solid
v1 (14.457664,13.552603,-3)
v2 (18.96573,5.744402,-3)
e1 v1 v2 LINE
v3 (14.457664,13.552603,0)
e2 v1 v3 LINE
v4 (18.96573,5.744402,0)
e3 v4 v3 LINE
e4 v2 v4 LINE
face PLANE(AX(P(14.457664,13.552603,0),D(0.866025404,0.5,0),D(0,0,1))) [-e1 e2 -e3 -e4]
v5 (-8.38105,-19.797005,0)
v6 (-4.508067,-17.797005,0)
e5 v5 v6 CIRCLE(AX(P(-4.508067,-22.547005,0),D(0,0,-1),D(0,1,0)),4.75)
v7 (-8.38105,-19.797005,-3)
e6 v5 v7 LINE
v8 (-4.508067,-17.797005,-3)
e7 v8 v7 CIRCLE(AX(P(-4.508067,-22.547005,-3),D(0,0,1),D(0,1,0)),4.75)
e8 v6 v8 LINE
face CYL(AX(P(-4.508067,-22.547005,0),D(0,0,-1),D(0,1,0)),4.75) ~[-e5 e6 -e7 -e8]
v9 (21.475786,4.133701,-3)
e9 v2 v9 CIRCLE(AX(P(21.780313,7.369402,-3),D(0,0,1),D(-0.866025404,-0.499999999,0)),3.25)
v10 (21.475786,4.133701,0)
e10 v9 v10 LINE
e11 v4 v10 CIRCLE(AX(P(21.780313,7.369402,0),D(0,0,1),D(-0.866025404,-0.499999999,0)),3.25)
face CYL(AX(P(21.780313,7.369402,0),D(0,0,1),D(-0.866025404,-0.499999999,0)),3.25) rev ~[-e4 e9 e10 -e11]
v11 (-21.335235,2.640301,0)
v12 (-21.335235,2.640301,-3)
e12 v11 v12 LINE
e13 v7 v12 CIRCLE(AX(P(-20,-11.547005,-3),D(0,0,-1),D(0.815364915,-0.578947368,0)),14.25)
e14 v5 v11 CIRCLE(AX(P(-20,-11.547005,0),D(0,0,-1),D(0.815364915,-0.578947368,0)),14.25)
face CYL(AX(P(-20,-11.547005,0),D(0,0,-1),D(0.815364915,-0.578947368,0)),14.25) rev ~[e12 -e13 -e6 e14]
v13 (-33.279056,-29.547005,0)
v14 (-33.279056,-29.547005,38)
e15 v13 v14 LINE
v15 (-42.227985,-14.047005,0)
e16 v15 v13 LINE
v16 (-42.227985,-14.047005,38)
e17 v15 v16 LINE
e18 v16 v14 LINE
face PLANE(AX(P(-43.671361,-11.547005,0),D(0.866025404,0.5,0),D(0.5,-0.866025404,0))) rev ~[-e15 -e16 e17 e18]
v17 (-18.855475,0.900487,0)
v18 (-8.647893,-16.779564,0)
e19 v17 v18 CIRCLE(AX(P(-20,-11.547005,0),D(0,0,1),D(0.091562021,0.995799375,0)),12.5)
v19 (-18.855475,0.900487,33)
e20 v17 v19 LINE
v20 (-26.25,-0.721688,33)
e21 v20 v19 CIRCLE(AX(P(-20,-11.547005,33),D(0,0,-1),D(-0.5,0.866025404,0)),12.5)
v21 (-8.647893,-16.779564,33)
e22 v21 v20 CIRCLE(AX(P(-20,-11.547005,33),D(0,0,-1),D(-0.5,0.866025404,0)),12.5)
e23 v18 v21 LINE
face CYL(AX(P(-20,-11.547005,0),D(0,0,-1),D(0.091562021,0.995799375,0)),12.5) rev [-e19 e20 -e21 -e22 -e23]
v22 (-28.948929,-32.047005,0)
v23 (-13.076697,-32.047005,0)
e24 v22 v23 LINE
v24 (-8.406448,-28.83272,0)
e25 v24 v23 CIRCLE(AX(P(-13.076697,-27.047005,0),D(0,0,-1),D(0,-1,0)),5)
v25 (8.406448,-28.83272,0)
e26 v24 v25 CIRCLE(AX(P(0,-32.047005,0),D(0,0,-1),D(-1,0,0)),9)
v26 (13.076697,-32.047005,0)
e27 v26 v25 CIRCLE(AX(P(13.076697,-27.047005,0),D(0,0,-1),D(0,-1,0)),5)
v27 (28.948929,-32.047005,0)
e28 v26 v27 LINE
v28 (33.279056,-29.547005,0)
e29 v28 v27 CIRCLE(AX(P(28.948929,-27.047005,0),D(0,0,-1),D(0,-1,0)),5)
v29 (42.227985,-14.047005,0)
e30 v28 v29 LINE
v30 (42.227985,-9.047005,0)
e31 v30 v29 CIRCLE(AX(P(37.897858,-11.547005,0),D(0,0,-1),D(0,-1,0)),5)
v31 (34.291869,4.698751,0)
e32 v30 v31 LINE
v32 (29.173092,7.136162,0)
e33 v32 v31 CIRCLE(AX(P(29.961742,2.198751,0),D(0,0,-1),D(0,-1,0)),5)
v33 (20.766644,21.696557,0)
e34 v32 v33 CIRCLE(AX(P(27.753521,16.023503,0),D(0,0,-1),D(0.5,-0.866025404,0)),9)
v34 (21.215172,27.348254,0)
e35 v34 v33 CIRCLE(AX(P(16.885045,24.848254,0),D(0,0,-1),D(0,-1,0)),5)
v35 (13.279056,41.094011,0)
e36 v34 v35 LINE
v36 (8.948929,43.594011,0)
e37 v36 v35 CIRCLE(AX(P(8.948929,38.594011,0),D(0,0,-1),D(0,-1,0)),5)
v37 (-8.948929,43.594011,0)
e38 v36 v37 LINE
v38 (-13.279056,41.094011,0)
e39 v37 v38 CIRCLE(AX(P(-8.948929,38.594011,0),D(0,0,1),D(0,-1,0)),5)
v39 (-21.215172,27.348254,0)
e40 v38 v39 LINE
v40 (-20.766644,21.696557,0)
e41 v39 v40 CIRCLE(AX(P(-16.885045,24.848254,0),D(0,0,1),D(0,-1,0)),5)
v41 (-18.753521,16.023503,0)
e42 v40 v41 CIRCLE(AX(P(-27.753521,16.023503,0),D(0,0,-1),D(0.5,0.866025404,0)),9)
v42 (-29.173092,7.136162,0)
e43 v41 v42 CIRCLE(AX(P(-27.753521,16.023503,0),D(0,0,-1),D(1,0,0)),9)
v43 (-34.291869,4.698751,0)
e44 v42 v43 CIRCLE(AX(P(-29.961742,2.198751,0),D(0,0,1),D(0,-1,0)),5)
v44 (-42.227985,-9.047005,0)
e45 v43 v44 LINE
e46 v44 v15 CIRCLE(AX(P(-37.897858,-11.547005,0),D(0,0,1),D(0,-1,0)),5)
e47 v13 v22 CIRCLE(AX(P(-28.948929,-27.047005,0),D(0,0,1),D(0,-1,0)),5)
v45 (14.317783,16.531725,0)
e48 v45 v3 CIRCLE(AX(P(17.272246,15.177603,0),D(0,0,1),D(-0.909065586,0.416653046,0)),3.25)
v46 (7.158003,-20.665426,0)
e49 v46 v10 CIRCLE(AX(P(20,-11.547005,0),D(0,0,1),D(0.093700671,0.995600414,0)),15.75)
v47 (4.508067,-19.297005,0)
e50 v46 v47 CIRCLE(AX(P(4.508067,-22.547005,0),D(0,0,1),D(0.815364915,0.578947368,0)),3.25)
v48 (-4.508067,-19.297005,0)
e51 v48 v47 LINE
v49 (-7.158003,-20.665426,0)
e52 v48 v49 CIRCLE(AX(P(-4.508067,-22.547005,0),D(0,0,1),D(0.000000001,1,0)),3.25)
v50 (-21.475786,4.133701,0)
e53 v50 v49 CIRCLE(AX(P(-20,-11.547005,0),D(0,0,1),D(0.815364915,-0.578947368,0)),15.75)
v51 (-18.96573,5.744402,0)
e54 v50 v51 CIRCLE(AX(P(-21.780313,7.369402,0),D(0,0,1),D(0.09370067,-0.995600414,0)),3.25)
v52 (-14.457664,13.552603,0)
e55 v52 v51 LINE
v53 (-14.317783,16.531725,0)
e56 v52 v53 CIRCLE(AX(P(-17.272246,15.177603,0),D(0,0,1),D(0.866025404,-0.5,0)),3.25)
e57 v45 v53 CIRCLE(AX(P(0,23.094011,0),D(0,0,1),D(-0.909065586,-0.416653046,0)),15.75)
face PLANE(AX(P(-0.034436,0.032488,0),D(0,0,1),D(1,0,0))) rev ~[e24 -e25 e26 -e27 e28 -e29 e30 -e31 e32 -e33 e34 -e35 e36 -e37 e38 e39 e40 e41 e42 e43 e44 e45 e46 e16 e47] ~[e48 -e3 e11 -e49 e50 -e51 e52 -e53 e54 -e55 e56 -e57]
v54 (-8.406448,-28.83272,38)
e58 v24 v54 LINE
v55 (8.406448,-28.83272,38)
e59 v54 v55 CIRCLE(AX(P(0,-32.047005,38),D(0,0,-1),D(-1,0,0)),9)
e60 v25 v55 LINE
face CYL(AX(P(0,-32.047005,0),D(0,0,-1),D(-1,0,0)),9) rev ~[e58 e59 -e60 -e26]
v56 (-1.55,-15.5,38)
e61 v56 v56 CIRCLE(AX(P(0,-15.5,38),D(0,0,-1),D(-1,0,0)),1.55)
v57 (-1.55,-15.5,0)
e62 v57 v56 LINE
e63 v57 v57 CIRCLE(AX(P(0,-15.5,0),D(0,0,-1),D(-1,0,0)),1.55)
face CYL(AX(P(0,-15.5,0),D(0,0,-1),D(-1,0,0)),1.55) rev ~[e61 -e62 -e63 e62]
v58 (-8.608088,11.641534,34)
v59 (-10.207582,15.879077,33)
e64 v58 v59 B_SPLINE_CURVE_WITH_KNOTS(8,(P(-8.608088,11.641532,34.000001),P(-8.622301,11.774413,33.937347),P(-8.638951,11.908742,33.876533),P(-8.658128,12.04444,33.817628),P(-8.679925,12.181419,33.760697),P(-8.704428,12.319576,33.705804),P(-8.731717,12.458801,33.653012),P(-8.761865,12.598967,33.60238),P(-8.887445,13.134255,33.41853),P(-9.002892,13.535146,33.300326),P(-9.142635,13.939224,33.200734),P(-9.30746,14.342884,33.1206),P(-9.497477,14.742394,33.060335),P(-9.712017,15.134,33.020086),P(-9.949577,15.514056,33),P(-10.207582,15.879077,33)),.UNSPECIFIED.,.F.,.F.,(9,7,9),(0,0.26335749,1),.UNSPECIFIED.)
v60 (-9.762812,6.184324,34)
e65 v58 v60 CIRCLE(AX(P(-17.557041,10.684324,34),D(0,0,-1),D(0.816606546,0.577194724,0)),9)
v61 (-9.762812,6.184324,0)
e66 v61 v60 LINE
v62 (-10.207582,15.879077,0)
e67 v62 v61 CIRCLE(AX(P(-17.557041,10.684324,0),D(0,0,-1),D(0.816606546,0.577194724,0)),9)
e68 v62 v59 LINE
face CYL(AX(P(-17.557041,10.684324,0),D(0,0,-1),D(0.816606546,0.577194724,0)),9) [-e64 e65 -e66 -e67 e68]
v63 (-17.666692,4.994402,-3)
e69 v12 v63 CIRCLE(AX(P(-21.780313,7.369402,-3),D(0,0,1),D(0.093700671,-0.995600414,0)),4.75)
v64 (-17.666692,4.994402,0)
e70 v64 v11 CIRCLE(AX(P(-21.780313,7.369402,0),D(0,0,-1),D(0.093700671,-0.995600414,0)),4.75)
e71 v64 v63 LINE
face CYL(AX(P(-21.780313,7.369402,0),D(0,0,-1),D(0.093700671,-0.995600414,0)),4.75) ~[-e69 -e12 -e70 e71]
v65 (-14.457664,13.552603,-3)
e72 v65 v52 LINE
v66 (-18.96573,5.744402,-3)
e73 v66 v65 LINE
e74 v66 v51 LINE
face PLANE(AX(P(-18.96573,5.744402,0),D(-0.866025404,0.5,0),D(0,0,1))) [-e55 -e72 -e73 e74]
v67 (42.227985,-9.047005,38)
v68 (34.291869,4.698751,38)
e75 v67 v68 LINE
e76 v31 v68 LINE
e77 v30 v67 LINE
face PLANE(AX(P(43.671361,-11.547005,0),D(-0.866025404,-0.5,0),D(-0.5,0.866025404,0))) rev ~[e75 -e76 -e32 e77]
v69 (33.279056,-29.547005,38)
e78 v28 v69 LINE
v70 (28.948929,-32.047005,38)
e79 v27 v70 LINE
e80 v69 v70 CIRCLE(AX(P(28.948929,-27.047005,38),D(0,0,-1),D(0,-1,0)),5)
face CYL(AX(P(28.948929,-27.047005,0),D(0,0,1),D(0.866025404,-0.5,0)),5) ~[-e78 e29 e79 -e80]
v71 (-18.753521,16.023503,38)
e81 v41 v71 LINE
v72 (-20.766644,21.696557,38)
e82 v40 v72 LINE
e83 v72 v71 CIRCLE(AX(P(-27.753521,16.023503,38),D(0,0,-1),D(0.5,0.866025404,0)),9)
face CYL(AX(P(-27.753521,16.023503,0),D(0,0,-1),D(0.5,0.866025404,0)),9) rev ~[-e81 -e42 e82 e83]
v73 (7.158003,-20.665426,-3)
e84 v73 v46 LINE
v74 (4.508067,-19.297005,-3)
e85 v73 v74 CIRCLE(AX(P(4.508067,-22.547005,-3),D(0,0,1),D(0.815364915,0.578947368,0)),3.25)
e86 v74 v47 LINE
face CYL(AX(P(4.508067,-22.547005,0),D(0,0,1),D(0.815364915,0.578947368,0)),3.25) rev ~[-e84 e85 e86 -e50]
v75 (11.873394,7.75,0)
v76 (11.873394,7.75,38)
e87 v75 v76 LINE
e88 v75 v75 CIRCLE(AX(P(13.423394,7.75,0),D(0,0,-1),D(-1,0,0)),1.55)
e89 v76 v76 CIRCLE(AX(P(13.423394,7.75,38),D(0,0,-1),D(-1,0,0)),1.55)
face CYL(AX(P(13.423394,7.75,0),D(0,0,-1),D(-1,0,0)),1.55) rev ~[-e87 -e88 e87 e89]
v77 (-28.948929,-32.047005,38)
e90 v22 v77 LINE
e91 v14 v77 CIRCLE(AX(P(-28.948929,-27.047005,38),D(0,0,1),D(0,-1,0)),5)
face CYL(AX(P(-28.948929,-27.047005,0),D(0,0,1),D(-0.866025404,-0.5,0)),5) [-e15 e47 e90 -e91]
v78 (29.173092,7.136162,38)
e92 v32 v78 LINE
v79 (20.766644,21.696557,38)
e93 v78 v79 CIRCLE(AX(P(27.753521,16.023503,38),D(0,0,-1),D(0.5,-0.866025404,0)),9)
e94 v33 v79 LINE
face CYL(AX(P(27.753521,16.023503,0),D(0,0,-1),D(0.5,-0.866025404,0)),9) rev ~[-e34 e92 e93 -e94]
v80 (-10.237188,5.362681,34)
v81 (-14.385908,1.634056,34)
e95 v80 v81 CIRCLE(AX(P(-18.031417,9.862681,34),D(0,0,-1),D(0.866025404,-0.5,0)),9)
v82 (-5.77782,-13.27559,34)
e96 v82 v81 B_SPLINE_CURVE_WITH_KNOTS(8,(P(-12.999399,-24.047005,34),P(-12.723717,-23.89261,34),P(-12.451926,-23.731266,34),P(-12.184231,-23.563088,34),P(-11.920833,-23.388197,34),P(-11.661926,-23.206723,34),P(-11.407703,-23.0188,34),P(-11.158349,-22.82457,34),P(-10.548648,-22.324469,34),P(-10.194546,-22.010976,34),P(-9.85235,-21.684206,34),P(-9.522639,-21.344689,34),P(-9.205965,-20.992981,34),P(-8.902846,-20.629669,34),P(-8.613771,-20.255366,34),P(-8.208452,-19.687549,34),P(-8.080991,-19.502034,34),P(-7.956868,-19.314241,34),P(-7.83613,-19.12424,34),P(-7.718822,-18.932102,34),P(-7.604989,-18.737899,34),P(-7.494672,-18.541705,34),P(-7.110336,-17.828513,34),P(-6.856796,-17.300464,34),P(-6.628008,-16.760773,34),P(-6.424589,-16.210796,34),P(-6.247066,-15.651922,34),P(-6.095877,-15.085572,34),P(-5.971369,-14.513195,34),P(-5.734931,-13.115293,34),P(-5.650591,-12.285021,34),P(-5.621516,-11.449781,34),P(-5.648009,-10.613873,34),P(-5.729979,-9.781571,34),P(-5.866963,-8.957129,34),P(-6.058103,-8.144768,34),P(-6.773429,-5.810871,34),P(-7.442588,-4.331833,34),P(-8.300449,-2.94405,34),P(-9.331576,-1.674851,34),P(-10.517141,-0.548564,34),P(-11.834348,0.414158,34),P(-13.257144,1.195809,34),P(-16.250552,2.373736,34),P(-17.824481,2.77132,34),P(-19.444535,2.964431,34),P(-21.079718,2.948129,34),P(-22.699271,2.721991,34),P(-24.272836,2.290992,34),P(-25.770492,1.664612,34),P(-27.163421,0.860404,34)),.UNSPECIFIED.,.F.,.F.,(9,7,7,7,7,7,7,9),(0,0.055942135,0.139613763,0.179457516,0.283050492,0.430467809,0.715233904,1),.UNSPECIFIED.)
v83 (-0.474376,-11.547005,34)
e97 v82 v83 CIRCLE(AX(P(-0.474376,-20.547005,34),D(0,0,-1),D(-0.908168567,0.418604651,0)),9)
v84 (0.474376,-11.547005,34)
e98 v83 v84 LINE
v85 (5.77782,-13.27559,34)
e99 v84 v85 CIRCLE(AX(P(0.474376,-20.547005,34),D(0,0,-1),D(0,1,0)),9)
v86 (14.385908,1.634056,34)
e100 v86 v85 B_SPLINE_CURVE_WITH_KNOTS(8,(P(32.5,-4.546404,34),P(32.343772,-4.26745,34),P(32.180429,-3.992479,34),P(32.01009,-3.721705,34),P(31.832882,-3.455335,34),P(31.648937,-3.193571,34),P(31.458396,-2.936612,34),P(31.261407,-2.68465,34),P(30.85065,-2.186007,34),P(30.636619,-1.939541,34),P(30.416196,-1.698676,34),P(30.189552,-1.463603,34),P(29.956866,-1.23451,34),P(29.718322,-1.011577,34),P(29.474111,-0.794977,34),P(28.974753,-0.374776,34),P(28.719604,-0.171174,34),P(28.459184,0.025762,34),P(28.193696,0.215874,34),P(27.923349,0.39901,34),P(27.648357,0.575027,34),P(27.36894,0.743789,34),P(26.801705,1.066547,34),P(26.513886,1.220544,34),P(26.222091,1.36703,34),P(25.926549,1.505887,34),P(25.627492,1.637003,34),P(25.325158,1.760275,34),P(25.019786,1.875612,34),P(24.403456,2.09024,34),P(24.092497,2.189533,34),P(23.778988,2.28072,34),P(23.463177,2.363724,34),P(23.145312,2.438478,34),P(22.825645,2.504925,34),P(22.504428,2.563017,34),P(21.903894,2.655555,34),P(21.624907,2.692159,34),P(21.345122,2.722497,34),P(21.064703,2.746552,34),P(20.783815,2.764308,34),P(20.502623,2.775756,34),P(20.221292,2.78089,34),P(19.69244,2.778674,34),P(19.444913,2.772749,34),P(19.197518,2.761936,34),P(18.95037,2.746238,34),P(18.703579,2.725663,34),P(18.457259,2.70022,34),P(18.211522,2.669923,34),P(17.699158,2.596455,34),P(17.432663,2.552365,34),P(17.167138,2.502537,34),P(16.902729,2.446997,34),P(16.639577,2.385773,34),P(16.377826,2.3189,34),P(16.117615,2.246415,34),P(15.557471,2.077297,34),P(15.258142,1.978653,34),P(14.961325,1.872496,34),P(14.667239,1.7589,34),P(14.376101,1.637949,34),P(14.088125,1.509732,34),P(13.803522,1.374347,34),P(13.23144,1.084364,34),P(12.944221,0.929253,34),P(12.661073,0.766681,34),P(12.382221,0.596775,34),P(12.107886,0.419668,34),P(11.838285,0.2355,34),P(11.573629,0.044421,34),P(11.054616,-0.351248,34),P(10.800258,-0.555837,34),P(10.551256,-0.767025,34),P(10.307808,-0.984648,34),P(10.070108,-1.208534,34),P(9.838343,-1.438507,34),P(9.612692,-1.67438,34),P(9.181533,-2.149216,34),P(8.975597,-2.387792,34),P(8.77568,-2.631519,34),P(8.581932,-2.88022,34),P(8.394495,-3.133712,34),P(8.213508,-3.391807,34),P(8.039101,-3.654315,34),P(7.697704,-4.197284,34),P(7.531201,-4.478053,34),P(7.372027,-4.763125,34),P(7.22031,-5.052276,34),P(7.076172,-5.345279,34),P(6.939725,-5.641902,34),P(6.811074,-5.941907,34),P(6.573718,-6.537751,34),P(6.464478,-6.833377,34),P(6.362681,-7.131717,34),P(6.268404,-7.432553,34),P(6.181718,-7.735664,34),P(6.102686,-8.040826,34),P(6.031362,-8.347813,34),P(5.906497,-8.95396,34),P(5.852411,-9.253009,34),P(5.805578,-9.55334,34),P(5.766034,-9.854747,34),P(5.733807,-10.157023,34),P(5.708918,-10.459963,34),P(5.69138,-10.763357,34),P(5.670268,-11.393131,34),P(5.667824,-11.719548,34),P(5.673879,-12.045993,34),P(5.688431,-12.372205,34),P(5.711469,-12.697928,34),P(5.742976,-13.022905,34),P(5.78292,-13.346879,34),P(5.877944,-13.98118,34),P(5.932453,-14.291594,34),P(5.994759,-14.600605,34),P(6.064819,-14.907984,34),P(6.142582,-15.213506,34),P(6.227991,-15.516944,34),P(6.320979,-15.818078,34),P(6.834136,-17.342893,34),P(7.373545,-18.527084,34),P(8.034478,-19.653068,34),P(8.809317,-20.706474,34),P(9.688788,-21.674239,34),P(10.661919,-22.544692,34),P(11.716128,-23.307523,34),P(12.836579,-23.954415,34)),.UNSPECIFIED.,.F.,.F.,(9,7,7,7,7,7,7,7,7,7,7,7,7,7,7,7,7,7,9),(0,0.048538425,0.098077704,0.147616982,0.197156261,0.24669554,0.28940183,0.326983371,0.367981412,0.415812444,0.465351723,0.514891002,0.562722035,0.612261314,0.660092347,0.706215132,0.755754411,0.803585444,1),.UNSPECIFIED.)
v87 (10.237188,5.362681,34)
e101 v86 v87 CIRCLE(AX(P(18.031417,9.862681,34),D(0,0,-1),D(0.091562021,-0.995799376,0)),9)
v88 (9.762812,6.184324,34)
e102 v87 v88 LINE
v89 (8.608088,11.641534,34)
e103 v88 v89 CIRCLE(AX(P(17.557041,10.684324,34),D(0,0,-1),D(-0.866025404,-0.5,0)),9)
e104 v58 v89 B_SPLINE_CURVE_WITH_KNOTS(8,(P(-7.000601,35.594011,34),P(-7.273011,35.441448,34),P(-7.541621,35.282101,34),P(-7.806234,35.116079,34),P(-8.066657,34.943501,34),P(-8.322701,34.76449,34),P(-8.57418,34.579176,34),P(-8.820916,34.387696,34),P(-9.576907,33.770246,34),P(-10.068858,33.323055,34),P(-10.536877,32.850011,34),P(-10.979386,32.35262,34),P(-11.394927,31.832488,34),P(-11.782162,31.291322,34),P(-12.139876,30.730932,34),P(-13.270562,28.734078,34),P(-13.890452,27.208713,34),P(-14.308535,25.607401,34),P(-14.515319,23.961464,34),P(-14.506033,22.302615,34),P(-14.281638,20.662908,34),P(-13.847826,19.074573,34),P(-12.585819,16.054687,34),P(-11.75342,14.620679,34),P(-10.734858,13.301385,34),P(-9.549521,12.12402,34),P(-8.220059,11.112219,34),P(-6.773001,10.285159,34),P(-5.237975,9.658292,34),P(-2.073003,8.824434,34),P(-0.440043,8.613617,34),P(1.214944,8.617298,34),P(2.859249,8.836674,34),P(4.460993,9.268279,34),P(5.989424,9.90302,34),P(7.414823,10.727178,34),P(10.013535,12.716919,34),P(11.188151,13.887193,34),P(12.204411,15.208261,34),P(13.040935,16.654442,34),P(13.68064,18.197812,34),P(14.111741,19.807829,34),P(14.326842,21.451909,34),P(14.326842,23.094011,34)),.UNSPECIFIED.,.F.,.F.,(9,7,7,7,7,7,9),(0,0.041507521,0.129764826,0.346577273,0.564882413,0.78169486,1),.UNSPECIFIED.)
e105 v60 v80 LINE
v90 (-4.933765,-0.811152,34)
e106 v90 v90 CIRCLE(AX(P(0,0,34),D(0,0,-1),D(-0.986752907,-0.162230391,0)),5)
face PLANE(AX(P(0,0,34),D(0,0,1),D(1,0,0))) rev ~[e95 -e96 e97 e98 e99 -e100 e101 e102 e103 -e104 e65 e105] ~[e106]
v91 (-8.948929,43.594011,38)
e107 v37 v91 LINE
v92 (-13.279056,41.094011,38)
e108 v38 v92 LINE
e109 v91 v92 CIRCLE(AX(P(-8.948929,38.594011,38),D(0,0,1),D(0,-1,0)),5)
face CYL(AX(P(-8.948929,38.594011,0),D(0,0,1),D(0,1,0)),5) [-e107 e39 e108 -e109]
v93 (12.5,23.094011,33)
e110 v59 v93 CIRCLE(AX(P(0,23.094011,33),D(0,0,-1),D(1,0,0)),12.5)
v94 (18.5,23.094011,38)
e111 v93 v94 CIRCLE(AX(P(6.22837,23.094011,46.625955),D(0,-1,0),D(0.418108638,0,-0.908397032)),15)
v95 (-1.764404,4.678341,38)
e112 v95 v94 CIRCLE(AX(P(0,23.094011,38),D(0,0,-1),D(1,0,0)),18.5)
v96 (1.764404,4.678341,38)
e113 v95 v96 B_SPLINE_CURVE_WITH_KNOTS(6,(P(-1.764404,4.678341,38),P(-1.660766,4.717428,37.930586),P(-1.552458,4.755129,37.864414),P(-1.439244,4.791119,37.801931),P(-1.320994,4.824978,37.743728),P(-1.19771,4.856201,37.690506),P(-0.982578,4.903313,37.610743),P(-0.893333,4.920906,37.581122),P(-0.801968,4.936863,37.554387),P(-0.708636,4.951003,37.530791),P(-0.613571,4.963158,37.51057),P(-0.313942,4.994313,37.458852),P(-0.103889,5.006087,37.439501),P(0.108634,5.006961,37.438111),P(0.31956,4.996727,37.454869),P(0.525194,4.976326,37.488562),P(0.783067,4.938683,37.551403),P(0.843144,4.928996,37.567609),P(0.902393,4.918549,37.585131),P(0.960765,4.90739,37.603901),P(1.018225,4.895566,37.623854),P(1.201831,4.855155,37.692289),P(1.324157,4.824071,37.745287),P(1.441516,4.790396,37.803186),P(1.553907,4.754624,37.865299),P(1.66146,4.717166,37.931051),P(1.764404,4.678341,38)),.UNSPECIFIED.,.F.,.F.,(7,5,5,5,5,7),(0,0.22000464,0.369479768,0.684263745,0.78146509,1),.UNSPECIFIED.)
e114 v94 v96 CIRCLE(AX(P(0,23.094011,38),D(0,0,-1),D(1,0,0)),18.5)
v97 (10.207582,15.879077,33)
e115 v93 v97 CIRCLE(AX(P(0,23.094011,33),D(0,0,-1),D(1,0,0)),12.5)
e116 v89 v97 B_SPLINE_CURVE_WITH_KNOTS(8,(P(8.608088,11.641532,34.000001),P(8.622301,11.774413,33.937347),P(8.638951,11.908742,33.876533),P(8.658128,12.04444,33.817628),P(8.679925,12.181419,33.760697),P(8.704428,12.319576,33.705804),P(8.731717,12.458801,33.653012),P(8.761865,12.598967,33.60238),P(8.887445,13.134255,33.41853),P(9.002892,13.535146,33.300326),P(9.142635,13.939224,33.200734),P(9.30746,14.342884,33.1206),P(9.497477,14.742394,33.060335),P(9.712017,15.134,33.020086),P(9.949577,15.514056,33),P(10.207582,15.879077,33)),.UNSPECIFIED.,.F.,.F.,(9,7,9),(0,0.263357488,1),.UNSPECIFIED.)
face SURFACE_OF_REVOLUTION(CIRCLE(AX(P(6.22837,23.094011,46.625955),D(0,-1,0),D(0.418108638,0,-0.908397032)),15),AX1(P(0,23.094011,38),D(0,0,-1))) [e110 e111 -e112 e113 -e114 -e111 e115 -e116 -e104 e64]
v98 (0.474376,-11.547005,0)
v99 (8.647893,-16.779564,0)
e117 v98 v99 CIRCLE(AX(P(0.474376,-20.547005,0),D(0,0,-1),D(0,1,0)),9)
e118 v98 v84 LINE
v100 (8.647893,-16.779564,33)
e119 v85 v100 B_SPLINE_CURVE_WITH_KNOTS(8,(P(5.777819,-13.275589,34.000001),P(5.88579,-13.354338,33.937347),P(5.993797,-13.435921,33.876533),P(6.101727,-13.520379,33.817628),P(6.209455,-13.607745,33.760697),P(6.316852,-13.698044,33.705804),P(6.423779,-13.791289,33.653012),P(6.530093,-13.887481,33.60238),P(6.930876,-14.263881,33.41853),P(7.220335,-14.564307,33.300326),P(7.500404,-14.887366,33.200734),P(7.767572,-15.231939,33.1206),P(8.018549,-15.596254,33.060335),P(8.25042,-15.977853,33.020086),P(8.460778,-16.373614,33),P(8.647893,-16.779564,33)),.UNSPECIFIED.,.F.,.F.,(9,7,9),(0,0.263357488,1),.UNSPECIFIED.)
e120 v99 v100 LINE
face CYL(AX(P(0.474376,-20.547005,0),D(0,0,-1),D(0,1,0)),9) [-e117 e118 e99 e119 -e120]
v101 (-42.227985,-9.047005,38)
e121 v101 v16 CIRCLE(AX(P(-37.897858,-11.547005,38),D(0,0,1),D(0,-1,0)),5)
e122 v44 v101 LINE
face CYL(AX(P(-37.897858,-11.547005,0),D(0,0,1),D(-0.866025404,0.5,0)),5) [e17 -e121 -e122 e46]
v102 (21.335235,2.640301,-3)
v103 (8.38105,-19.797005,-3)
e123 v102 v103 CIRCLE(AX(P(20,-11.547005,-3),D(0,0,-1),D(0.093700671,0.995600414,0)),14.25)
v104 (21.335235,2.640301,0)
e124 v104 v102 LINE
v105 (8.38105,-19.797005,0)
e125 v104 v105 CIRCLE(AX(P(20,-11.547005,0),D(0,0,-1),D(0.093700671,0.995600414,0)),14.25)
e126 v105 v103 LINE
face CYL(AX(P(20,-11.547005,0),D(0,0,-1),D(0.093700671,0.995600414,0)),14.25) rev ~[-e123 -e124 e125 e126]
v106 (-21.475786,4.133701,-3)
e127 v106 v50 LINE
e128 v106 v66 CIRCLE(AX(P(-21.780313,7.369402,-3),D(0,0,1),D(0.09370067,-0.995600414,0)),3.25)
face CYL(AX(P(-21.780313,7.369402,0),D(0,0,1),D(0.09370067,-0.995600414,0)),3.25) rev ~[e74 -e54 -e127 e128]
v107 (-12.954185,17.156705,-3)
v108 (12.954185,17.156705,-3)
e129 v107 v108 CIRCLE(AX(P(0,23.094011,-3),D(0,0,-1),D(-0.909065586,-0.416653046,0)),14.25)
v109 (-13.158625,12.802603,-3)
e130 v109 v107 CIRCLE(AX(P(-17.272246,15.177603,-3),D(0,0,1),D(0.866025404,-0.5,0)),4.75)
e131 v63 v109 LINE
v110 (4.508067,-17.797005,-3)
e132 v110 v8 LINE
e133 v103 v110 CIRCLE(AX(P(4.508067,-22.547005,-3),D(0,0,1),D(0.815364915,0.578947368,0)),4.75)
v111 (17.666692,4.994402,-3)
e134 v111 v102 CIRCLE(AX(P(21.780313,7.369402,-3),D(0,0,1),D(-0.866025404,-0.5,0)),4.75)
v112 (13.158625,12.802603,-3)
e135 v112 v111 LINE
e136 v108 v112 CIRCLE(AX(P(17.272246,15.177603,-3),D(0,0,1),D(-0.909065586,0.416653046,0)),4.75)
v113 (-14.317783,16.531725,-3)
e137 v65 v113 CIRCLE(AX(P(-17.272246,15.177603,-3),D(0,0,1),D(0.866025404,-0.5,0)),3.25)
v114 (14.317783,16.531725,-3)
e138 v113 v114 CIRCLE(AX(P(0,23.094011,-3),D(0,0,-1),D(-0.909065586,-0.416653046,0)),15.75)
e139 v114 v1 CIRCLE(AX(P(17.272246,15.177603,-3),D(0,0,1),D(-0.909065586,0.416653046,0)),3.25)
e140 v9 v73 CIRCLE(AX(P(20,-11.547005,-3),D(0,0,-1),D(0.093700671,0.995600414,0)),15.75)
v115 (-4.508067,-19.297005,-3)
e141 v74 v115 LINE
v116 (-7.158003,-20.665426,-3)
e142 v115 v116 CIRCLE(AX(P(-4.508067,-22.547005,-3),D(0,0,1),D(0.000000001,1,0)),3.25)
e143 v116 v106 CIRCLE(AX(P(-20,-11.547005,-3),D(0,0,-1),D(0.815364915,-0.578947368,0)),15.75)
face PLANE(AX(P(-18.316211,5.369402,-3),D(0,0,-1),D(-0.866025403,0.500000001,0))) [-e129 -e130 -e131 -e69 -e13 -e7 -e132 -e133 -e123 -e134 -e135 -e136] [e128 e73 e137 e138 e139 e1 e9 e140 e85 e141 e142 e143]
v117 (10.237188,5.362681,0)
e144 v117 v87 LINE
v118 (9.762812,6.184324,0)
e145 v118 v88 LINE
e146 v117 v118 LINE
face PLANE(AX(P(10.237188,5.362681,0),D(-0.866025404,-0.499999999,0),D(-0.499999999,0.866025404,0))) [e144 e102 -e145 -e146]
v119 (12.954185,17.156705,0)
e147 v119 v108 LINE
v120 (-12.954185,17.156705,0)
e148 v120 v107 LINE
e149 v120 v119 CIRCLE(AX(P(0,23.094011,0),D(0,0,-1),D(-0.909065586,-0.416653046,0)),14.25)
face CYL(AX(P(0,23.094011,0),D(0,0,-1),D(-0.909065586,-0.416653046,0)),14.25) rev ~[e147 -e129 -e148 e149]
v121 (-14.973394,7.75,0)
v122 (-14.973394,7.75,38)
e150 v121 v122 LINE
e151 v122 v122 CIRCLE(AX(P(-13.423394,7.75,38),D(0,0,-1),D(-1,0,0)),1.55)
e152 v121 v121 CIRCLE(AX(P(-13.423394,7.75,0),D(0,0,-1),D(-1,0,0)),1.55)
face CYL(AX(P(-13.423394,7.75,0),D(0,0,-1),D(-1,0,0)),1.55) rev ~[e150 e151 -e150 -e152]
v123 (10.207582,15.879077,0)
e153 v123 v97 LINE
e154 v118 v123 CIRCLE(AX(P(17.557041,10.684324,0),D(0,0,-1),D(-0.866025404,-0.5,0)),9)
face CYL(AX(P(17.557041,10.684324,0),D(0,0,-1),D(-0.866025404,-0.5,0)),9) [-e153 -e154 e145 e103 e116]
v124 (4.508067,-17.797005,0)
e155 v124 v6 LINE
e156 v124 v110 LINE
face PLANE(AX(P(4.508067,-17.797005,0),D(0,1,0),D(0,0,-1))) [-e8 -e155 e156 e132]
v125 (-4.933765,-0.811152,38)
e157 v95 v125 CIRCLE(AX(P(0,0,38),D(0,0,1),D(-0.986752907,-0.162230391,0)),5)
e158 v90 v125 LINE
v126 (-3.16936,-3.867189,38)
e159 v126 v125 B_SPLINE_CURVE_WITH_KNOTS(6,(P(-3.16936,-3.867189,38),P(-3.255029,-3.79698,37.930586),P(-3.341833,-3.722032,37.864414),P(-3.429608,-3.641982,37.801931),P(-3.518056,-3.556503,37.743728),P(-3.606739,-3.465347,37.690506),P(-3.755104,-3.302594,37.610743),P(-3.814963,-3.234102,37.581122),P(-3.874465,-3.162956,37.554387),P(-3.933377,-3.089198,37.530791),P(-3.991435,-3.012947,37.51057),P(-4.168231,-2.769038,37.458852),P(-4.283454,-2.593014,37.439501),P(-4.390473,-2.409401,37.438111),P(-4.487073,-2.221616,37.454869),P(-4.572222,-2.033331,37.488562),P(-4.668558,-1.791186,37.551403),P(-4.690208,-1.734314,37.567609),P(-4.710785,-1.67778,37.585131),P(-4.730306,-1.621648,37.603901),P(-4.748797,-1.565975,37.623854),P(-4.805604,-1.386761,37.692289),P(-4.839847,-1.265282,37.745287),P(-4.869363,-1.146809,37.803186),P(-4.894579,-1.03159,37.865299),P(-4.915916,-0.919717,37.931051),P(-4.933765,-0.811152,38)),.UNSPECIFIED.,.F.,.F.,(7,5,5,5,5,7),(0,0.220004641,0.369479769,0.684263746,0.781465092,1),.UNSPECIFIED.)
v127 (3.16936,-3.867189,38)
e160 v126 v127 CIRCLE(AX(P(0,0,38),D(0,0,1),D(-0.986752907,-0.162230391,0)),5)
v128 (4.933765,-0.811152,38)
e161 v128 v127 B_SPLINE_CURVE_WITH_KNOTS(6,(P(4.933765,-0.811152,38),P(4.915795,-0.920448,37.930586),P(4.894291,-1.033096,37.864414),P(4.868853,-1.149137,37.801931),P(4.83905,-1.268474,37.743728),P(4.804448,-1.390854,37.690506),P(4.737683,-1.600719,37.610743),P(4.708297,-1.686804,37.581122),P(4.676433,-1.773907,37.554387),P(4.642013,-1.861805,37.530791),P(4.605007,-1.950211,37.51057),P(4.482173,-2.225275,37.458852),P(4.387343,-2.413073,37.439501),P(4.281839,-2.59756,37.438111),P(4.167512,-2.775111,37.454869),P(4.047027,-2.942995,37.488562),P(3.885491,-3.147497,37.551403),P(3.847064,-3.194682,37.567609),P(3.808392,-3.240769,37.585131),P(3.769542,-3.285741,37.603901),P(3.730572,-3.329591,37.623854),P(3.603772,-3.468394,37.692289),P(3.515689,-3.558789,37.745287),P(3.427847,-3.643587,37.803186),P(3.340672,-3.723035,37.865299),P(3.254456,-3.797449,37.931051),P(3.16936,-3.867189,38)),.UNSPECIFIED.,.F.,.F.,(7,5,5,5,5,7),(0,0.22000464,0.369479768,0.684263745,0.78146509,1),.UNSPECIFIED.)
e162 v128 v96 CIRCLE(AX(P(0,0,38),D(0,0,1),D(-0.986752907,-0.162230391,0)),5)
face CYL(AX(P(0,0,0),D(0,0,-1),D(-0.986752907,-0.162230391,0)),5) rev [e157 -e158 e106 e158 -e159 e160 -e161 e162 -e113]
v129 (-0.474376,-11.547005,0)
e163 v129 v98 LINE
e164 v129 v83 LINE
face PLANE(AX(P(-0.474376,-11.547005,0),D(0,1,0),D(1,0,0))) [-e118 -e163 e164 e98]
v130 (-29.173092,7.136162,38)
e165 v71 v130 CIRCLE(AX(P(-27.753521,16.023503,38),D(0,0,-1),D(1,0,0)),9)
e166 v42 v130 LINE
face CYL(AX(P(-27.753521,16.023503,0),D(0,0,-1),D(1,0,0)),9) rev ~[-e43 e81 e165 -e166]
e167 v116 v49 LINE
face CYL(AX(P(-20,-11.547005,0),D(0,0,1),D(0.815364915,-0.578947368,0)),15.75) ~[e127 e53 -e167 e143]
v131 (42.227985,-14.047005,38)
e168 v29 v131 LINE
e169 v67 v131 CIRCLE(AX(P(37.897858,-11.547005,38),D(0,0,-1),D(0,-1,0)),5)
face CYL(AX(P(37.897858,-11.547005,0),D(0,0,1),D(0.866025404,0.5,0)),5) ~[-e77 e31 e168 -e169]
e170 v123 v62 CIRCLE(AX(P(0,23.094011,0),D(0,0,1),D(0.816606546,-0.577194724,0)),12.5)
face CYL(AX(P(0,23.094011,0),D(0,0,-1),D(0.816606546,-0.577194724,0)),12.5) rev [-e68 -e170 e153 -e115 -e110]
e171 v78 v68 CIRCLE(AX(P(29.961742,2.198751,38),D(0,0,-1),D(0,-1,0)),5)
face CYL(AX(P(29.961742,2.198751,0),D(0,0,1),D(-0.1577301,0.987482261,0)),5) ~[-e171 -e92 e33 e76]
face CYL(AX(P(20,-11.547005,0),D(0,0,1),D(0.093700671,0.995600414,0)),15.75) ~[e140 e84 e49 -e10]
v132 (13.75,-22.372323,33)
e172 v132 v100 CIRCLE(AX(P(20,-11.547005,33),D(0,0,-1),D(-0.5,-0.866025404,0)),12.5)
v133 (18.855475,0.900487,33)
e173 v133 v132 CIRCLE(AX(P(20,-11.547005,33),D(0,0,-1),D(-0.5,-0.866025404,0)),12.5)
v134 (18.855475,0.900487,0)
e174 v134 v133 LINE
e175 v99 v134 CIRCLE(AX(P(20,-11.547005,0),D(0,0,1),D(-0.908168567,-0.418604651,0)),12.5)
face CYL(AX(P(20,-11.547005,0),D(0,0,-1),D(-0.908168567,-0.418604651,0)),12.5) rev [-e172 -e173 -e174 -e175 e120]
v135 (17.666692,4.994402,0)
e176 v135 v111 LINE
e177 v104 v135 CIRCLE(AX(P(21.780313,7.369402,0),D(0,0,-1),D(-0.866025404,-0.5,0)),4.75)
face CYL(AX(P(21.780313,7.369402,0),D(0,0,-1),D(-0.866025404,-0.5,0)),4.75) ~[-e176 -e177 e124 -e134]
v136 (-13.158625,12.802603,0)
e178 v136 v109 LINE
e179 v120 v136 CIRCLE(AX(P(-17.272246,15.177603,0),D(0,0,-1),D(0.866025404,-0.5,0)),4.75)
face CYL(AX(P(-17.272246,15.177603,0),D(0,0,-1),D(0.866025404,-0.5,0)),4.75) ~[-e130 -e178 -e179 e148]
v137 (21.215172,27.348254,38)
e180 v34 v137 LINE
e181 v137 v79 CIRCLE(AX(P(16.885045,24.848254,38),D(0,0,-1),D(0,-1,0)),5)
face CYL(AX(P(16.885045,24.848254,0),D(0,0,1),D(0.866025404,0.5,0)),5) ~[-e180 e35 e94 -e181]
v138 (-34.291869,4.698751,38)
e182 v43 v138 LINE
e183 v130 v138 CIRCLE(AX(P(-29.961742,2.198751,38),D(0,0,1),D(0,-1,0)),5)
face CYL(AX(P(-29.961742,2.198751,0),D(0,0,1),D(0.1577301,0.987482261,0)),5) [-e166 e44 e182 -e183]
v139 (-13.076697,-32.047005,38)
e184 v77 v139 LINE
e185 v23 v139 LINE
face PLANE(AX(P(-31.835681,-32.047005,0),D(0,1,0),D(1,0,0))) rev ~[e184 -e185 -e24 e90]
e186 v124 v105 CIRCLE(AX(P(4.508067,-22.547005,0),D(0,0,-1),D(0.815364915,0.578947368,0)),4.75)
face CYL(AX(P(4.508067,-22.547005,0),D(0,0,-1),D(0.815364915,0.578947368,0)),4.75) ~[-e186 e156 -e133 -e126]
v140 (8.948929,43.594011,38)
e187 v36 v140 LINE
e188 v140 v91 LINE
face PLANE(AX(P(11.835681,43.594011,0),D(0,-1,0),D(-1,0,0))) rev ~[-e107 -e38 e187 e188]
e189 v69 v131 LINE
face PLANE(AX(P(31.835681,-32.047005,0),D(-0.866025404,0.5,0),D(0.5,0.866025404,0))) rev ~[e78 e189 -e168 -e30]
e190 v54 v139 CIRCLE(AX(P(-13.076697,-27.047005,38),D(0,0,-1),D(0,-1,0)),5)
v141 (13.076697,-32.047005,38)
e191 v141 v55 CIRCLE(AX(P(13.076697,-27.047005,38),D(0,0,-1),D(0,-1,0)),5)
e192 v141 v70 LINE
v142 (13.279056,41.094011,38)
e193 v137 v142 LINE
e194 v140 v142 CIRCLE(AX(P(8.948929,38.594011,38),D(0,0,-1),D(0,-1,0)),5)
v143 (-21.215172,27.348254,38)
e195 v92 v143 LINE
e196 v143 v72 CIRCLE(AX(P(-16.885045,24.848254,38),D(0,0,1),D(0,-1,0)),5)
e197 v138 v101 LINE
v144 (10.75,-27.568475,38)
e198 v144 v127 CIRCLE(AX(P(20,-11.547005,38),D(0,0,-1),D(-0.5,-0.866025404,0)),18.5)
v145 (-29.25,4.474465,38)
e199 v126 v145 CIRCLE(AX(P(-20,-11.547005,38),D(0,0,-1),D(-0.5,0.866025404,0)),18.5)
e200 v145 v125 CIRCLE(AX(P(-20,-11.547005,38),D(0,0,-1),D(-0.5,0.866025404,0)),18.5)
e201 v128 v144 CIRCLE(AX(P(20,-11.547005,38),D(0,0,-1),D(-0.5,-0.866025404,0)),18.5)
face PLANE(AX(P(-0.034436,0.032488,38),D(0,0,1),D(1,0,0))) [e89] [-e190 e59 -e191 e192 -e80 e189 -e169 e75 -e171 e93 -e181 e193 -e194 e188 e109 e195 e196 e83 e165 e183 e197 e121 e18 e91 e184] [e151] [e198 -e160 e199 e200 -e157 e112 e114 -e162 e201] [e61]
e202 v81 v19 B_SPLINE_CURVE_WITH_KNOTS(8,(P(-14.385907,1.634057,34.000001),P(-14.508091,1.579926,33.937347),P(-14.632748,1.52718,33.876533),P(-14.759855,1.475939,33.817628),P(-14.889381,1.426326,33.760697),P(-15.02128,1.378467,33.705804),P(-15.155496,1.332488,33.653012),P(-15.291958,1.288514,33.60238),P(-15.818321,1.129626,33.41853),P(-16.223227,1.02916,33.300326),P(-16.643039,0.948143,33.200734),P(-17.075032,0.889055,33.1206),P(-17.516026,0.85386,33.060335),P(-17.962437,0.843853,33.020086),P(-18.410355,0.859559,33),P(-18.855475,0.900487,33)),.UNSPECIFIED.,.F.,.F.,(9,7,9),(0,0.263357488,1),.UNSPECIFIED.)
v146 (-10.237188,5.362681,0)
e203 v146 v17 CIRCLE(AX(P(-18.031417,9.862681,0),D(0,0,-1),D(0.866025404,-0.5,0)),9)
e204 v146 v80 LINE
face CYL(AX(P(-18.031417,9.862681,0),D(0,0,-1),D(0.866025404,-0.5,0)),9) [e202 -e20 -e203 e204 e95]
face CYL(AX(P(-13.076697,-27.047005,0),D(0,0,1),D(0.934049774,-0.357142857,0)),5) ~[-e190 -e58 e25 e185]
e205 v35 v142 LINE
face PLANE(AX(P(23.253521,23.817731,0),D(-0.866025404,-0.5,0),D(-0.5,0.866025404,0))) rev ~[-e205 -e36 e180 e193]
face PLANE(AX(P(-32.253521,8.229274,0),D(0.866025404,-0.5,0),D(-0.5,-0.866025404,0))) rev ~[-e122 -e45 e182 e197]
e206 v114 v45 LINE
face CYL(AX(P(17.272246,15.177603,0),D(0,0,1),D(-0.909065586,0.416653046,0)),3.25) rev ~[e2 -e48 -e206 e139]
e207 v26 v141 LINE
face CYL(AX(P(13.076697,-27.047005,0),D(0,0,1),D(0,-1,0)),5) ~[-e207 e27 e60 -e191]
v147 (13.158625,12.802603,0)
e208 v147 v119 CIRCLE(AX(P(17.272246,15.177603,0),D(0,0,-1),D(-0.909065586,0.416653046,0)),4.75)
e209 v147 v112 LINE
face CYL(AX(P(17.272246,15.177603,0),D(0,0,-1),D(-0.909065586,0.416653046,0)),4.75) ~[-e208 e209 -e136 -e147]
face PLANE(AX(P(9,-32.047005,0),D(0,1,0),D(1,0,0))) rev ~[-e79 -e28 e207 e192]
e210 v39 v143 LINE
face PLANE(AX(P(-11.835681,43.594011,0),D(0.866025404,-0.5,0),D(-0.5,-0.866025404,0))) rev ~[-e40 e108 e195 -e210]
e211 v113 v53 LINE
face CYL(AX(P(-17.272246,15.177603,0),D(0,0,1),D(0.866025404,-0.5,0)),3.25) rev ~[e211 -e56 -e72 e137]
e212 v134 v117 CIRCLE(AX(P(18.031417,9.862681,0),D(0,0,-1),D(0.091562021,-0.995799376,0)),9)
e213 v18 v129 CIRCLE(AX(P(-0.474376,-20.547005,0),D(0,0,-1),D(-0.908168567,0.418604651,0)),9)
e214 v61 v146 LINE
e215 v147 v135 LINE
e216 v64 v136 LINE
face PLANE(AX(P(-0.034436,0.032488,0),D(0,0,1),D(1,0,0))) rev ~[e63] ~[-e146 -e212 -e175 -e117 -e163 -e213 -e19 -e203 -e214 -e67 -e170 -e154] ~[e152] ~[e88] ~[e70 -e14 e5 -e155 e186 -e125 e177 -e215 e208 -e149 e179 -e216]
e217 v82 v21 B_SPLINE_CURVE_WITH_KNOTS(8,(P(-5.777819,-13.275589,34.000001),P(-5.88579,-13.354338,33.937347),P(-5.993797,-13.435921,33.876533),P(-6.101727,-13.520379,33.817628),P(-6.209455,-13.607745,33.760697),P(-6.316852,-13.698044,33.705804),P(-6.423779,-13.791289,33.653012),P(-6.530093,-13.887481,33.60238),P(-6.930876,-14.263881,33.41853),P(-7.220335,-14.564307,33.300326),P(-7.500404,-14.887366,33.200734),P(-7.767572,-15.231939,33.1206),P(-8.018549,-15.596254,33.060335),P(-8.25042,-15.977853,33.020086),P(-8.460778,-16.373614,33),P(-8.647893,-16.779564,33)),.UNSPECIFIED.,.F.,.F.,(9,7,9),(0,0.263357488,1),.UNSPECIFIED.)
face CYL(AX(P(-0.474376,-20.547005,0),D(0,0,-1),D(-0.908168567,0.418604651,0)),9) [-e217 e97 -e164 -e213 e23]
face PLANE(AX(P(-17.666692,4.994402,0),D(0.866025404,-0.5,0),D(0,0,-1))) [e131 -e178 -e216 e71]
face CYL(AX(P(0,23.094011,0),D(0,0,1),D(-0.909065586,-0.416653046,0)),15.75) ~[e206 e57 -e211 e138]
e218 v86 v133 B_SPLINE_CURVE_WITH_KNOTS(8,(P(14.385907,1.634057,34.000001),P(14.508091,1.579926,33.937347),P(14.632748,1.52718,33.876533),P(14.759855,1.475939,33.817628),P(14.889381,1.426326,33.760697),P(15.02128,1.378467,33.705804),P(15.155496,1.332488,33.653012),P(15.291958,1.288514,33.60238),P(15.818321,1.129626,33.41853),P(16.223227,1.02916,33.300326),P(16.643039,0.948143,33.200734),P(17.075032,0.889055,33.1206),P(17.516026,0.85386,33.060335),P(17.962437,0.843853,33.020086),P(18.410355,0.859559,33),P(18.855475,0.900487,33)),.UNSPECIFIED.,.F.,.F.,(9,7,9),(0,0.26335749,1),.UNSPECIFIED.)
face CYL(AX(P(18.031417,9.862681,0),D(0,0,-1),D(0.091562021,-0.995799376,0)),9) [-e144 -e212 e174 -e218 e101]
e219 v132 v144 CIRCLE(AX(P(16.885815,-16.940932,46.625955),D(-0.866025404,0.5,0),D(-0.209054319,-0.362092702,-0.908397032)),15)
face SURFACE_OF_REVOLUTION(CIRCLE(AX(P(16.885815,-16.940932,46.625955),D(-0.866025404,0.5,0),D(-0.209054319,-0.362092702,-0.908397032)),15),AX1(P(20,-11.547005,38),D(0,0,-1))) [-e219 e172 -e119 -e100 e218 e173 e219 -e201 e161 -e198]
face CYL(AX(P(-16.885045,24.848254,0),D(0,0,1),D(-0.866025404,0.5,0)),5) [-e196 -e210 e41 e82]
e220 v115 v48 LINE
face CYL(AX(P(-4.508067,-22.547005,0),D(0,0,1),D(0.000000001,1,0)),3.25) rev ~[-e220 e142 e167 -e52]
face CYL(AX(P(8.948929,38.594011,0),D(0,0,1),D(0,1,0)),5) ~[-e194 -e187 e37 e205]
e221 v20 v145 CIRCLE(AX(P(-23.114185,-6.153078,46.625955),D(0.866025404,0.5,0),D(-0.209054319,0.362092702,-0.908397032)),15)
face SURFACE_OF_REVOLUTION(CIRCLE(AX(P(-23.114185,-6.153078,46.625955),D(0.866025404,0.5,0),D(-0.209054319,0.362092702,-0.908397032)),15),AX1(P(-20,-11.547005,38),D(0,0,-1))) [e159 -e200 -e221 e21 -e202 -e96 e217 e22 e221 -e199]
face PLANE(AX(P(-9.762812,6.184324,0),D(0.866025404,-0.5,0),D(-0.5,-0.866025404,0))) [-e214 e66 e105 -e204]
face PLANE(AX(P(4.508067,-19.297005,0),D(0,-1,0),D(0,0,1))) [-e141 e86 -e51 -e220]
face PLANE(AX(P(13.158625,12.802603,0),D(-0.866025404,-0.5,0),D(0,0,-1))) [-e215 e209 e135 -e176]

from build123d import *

# Parameters (mm, degrees)
EXTRUDE_3_DEPTH          = 38
CUT_EXTRUDE_2_DEPTH      = 34
PATTERN_CIRCULAR_2_COUNT = 3
SKETCH_1_8_R             = 5
CUT_EXTRUDE_4_DEPTH      = 38
FILLET_2_R               = 5
SKETCH_12_R              = 1.55
CUT_EXTRUDE_5_DEPTH      = 38
SKETCH_17_W              = 6
SKETCH_17_H              = 1.5


with BuildPart() as part:
    # 草图8 → 凸台-拉伸3 (new body)
    with BuildSketch(Plane.XY):
        with BuildLine():
            Line((11.835680518, 43.594010768), (-11.835680518, 43.594010768))
            Line((-11.835680518, 43.594010768), (-23.253520778, 23.817731326))
            ThreePointArc((-23.253520778, 23.817731326), (-19.959292144, 20.523502692), (-18.753520778, 16.023502692))
            ThreePointArc((-18.753520778, 16.023502692), (-23.253520778, 8.229274058), (-32.253520778, 8.229274058))
            Line((-32.253520778, 8.229274058), (-43.671361037, -11.547005384))
            Line((-43.671361037, -11.547005384), (-31.835680518, -32.047005384))
            Line((-31.835680518, -32.047005384), (-9, -32.047005384))
            ThreePointArc((-9, -32.047005384), (0, -23.047005384), (9, -32.047005384))
            Line((9, -32.047005384), (31.835680518, -32.047005384))
            Line((31.835680518, -32.047005384), (43.671361037, -11.547005384))
            Line((43.671361037, -11.547005384), (32.253520778, 8.229274058))
            ThreePointArc((32.253520778, 8.229274058), (19.959292144, 11.523502692), (23.253520778, 23.817731326))
            Line((23.253520778, 23.817731326), (11.835680518, 43.594010768))
        make_face()
    extrude(amount=EXTRUDE_3_DEPTH)

    # 草图1 → 切除-拉伸2 (cut)
    with BuildSketch(Plane.XY):
        with BuildLine():
            ThreePointArc((-10.207581819, 15.879076713), (-8.566497102, 11.096786669), (-9.762812095, 6.184324194))
            Line((-9.762812095, 6.184324194), (-10.237187905, 5.362681189))
            ThreePointArc((-10.237187905, 5.362681189), (-13.893347706, 1.870410777), (-18.855474732, 0.90048681))
            ThreePointArc((-18.855474732, 0.90048681), (-30.825317547, -17.797005384), (-8.647892913, -16.779563523))
            ThreePointArc((-8.647892913, -16.779563523), (-5.326850604, -12.967197446), (-0.47437581, -11.547005384))
            Line((-0.47437581, -11.547005384), (0.47437581, -11.547005384))
            ThreePointArc((0.47437581, -11.547005384), (5.326850604, -12.967197446), (8.647892913, -16.779563523))
            ThreePointArc((8.647892913, -16.779563523), (30.825317547, -17.797005384), (18.855474732, 0.90048681))
            ThreePointArc((18.855474732, 0.90048681), (13.893347706, 1.870410778), (10.237187905, 5.362681189))
            Line((10.237187905, 5.362681189), (9.762812095, 6.184324195))
            ThreePointArc((9.762812095, 6.184324195), (8.566497102, 11.096786669), (10.207581819, 15.879076713))
            ThreePointArc((10.207581819, 15.879076713), (0, 35.594010768), (-10.207581819, 15.879076713))
        make_face()
    extrude(amount=CUT_EXTRUDE_2_DEPTH, mode=Mode.SUBTRACT)

    # 草图10 → 切除-旋转2 (revolve, cut)
    with BuildSketch(Plane(origin=(0, 0, 0), x_dir=(0, 0, -1), z_dir=(1, 0, 0))):
        with BuildLine():
            Line((-38, 41.594010768), (-38, 23.094010768))
            Line((-38, 23.094010768), (-33, 23.094010768))
            Line((-33, 23.094010768), (-33, 35.594010768))
            ThreePointArc((-33, 35.594010768), (-35.102636282, 38.9251472), (-38, 41.594010768))
        make_face()
    cut_revolve_2 = revolve(axis=Axis((0, 23.094010768, 38), (0, 0, -1)), mode=Mode.SUBTRACT)

    # 阵列(圆周)2: 切除-旋转2 ×3 about axis
    pattern_circular_2_axis = Axis((0, 0, 0), (0, 0, 1))
    for i in range(1, PATTERN_CIRCULAR_2_COUNT):
        add(cut_revolve_2.rotate(pattern_circular_2_axis, i * 360 / PATTERN_CIRCULAR_2_COUNT), mode=Mode.SUBTRACT)

    # 草图1<8> → 切除-拉伸4 (cut)
    with BuildSketch(Plane.XY):
        Circle(SKETCH_1_8_R)
    extrude(amount=CUT_EXTRUDE_4_DEPTH, mode=Mode.SUBTRACT)

    # 圆角2
    fillet_2_edges = [part.edges().sort_by_distance(p)[0] for p in [
        (-43.671361037, -11.547005384, 19),
        (-31.835680518, -32.047005384, 19),
        (-9, -32.047005384, 19),
        (9, -32.047005384, 19),
        (31.835680518, -32.047005384, 19),
        (43.671361037, -11.547005384, 19),
        (32.253520778, 8.229274058, 19),
        (23.253520778, 23.817731326, 19),
        (11.835680518, 43.594010768, 19),
        (-11.835680518, 43.594010768, 19),
        (-23.253520778, 23.817731326, 19),
        (-32.253520778, 8.229274058, 19),
    ]]
    fillet(fillet_2_edges, radius=FILLET_2_R)

    # 草图12 → 切除-拉伸5 (cut)
    with BuildSketch(Plane(origin=(0, 0, 0), x_dir=(-1, 0, 0), z_dir=(0, 0, -1))):
        with Locations((-13.423393759, 7.75)):
            Circle(SKETCH_12_R)
        with Locations((13.423393759, 7.75)):
            Circle(SKETCH_12_R)
        with Locations((0, -15.5)):
            Circle(SKETCH_12_R)
    extrude(amount=-CUT_EXTRUDE_5_DEPTH, mode=Mode.SUBTRACT)

    # 扫描1: sweep along a path in 草图13
    with BuildLine(Plane(origin=(0, 0, 0), x_dir=(-1, 0, 0), z_dir=(0, 0, -1))) as sweep_1_path:
        Line((18.316211134, 5.369402481), (13.808144519, 13.177602903))
        ThreePointArc((13.808144519, 13.177602903), (13.276648142, 14.989995098), (13.63598379, 16.844215085))
        ThreePointArc((13.63598379, 16.844215085), (0, 38.094010768), (-13.63598379, 16.844215085))
        ThreePointArc((-13.63598379, 16.844215085), (-13.276648142, 14.989995098), (-13.808144519, 13.177602903))
        Line((-13.808144519, 13.177602903), (-18.316211134, 5.369402481))
        ThreePointArc((-18.316211134, 5.369402481), (-19.620040628, 4.002917019), (-21.405510065, 3.387000825))
        ThreePointArc((-21.405510065, 3.387000825), (-32.990381057, -19.047005384), (-7.769526275, -20.23121591))
        ThreePointArc((-7.769526275, -20.23121591), (-6.343392486, -18.992912117), (-4.508066615, -18.547005384))
        Line((-4.508066615, -18.547005384), (4.508066615, -18.547005384))
        ThreePointArc((4.508066615, -18.547005384), (6.343392486, -18.992912117), (7.769526275, -20.23121591))
        ThreePointArc((7.769526275, -20.23121591), (32.990381057, -19.047005384), (21.405510065, 3.387000825))
        ThreePointArc((21.405510065, 3.387000825), (19.620040628, 4.002917019), (18.316211134, 5.369402481))
    # 草图17 → 扫描1 (sweep)
    with BuildSketch(Plane(origin=(0, 0, 0), x_dir=(0, 0, -1), z_dir=(1, 0, 0))):
        with Locations((0, 38.094010768)):
            Rectangle(SKETCH_17_W, SKETCH_17_H)
    sweep(path=sweep_1_path.line)


solid = part.part
